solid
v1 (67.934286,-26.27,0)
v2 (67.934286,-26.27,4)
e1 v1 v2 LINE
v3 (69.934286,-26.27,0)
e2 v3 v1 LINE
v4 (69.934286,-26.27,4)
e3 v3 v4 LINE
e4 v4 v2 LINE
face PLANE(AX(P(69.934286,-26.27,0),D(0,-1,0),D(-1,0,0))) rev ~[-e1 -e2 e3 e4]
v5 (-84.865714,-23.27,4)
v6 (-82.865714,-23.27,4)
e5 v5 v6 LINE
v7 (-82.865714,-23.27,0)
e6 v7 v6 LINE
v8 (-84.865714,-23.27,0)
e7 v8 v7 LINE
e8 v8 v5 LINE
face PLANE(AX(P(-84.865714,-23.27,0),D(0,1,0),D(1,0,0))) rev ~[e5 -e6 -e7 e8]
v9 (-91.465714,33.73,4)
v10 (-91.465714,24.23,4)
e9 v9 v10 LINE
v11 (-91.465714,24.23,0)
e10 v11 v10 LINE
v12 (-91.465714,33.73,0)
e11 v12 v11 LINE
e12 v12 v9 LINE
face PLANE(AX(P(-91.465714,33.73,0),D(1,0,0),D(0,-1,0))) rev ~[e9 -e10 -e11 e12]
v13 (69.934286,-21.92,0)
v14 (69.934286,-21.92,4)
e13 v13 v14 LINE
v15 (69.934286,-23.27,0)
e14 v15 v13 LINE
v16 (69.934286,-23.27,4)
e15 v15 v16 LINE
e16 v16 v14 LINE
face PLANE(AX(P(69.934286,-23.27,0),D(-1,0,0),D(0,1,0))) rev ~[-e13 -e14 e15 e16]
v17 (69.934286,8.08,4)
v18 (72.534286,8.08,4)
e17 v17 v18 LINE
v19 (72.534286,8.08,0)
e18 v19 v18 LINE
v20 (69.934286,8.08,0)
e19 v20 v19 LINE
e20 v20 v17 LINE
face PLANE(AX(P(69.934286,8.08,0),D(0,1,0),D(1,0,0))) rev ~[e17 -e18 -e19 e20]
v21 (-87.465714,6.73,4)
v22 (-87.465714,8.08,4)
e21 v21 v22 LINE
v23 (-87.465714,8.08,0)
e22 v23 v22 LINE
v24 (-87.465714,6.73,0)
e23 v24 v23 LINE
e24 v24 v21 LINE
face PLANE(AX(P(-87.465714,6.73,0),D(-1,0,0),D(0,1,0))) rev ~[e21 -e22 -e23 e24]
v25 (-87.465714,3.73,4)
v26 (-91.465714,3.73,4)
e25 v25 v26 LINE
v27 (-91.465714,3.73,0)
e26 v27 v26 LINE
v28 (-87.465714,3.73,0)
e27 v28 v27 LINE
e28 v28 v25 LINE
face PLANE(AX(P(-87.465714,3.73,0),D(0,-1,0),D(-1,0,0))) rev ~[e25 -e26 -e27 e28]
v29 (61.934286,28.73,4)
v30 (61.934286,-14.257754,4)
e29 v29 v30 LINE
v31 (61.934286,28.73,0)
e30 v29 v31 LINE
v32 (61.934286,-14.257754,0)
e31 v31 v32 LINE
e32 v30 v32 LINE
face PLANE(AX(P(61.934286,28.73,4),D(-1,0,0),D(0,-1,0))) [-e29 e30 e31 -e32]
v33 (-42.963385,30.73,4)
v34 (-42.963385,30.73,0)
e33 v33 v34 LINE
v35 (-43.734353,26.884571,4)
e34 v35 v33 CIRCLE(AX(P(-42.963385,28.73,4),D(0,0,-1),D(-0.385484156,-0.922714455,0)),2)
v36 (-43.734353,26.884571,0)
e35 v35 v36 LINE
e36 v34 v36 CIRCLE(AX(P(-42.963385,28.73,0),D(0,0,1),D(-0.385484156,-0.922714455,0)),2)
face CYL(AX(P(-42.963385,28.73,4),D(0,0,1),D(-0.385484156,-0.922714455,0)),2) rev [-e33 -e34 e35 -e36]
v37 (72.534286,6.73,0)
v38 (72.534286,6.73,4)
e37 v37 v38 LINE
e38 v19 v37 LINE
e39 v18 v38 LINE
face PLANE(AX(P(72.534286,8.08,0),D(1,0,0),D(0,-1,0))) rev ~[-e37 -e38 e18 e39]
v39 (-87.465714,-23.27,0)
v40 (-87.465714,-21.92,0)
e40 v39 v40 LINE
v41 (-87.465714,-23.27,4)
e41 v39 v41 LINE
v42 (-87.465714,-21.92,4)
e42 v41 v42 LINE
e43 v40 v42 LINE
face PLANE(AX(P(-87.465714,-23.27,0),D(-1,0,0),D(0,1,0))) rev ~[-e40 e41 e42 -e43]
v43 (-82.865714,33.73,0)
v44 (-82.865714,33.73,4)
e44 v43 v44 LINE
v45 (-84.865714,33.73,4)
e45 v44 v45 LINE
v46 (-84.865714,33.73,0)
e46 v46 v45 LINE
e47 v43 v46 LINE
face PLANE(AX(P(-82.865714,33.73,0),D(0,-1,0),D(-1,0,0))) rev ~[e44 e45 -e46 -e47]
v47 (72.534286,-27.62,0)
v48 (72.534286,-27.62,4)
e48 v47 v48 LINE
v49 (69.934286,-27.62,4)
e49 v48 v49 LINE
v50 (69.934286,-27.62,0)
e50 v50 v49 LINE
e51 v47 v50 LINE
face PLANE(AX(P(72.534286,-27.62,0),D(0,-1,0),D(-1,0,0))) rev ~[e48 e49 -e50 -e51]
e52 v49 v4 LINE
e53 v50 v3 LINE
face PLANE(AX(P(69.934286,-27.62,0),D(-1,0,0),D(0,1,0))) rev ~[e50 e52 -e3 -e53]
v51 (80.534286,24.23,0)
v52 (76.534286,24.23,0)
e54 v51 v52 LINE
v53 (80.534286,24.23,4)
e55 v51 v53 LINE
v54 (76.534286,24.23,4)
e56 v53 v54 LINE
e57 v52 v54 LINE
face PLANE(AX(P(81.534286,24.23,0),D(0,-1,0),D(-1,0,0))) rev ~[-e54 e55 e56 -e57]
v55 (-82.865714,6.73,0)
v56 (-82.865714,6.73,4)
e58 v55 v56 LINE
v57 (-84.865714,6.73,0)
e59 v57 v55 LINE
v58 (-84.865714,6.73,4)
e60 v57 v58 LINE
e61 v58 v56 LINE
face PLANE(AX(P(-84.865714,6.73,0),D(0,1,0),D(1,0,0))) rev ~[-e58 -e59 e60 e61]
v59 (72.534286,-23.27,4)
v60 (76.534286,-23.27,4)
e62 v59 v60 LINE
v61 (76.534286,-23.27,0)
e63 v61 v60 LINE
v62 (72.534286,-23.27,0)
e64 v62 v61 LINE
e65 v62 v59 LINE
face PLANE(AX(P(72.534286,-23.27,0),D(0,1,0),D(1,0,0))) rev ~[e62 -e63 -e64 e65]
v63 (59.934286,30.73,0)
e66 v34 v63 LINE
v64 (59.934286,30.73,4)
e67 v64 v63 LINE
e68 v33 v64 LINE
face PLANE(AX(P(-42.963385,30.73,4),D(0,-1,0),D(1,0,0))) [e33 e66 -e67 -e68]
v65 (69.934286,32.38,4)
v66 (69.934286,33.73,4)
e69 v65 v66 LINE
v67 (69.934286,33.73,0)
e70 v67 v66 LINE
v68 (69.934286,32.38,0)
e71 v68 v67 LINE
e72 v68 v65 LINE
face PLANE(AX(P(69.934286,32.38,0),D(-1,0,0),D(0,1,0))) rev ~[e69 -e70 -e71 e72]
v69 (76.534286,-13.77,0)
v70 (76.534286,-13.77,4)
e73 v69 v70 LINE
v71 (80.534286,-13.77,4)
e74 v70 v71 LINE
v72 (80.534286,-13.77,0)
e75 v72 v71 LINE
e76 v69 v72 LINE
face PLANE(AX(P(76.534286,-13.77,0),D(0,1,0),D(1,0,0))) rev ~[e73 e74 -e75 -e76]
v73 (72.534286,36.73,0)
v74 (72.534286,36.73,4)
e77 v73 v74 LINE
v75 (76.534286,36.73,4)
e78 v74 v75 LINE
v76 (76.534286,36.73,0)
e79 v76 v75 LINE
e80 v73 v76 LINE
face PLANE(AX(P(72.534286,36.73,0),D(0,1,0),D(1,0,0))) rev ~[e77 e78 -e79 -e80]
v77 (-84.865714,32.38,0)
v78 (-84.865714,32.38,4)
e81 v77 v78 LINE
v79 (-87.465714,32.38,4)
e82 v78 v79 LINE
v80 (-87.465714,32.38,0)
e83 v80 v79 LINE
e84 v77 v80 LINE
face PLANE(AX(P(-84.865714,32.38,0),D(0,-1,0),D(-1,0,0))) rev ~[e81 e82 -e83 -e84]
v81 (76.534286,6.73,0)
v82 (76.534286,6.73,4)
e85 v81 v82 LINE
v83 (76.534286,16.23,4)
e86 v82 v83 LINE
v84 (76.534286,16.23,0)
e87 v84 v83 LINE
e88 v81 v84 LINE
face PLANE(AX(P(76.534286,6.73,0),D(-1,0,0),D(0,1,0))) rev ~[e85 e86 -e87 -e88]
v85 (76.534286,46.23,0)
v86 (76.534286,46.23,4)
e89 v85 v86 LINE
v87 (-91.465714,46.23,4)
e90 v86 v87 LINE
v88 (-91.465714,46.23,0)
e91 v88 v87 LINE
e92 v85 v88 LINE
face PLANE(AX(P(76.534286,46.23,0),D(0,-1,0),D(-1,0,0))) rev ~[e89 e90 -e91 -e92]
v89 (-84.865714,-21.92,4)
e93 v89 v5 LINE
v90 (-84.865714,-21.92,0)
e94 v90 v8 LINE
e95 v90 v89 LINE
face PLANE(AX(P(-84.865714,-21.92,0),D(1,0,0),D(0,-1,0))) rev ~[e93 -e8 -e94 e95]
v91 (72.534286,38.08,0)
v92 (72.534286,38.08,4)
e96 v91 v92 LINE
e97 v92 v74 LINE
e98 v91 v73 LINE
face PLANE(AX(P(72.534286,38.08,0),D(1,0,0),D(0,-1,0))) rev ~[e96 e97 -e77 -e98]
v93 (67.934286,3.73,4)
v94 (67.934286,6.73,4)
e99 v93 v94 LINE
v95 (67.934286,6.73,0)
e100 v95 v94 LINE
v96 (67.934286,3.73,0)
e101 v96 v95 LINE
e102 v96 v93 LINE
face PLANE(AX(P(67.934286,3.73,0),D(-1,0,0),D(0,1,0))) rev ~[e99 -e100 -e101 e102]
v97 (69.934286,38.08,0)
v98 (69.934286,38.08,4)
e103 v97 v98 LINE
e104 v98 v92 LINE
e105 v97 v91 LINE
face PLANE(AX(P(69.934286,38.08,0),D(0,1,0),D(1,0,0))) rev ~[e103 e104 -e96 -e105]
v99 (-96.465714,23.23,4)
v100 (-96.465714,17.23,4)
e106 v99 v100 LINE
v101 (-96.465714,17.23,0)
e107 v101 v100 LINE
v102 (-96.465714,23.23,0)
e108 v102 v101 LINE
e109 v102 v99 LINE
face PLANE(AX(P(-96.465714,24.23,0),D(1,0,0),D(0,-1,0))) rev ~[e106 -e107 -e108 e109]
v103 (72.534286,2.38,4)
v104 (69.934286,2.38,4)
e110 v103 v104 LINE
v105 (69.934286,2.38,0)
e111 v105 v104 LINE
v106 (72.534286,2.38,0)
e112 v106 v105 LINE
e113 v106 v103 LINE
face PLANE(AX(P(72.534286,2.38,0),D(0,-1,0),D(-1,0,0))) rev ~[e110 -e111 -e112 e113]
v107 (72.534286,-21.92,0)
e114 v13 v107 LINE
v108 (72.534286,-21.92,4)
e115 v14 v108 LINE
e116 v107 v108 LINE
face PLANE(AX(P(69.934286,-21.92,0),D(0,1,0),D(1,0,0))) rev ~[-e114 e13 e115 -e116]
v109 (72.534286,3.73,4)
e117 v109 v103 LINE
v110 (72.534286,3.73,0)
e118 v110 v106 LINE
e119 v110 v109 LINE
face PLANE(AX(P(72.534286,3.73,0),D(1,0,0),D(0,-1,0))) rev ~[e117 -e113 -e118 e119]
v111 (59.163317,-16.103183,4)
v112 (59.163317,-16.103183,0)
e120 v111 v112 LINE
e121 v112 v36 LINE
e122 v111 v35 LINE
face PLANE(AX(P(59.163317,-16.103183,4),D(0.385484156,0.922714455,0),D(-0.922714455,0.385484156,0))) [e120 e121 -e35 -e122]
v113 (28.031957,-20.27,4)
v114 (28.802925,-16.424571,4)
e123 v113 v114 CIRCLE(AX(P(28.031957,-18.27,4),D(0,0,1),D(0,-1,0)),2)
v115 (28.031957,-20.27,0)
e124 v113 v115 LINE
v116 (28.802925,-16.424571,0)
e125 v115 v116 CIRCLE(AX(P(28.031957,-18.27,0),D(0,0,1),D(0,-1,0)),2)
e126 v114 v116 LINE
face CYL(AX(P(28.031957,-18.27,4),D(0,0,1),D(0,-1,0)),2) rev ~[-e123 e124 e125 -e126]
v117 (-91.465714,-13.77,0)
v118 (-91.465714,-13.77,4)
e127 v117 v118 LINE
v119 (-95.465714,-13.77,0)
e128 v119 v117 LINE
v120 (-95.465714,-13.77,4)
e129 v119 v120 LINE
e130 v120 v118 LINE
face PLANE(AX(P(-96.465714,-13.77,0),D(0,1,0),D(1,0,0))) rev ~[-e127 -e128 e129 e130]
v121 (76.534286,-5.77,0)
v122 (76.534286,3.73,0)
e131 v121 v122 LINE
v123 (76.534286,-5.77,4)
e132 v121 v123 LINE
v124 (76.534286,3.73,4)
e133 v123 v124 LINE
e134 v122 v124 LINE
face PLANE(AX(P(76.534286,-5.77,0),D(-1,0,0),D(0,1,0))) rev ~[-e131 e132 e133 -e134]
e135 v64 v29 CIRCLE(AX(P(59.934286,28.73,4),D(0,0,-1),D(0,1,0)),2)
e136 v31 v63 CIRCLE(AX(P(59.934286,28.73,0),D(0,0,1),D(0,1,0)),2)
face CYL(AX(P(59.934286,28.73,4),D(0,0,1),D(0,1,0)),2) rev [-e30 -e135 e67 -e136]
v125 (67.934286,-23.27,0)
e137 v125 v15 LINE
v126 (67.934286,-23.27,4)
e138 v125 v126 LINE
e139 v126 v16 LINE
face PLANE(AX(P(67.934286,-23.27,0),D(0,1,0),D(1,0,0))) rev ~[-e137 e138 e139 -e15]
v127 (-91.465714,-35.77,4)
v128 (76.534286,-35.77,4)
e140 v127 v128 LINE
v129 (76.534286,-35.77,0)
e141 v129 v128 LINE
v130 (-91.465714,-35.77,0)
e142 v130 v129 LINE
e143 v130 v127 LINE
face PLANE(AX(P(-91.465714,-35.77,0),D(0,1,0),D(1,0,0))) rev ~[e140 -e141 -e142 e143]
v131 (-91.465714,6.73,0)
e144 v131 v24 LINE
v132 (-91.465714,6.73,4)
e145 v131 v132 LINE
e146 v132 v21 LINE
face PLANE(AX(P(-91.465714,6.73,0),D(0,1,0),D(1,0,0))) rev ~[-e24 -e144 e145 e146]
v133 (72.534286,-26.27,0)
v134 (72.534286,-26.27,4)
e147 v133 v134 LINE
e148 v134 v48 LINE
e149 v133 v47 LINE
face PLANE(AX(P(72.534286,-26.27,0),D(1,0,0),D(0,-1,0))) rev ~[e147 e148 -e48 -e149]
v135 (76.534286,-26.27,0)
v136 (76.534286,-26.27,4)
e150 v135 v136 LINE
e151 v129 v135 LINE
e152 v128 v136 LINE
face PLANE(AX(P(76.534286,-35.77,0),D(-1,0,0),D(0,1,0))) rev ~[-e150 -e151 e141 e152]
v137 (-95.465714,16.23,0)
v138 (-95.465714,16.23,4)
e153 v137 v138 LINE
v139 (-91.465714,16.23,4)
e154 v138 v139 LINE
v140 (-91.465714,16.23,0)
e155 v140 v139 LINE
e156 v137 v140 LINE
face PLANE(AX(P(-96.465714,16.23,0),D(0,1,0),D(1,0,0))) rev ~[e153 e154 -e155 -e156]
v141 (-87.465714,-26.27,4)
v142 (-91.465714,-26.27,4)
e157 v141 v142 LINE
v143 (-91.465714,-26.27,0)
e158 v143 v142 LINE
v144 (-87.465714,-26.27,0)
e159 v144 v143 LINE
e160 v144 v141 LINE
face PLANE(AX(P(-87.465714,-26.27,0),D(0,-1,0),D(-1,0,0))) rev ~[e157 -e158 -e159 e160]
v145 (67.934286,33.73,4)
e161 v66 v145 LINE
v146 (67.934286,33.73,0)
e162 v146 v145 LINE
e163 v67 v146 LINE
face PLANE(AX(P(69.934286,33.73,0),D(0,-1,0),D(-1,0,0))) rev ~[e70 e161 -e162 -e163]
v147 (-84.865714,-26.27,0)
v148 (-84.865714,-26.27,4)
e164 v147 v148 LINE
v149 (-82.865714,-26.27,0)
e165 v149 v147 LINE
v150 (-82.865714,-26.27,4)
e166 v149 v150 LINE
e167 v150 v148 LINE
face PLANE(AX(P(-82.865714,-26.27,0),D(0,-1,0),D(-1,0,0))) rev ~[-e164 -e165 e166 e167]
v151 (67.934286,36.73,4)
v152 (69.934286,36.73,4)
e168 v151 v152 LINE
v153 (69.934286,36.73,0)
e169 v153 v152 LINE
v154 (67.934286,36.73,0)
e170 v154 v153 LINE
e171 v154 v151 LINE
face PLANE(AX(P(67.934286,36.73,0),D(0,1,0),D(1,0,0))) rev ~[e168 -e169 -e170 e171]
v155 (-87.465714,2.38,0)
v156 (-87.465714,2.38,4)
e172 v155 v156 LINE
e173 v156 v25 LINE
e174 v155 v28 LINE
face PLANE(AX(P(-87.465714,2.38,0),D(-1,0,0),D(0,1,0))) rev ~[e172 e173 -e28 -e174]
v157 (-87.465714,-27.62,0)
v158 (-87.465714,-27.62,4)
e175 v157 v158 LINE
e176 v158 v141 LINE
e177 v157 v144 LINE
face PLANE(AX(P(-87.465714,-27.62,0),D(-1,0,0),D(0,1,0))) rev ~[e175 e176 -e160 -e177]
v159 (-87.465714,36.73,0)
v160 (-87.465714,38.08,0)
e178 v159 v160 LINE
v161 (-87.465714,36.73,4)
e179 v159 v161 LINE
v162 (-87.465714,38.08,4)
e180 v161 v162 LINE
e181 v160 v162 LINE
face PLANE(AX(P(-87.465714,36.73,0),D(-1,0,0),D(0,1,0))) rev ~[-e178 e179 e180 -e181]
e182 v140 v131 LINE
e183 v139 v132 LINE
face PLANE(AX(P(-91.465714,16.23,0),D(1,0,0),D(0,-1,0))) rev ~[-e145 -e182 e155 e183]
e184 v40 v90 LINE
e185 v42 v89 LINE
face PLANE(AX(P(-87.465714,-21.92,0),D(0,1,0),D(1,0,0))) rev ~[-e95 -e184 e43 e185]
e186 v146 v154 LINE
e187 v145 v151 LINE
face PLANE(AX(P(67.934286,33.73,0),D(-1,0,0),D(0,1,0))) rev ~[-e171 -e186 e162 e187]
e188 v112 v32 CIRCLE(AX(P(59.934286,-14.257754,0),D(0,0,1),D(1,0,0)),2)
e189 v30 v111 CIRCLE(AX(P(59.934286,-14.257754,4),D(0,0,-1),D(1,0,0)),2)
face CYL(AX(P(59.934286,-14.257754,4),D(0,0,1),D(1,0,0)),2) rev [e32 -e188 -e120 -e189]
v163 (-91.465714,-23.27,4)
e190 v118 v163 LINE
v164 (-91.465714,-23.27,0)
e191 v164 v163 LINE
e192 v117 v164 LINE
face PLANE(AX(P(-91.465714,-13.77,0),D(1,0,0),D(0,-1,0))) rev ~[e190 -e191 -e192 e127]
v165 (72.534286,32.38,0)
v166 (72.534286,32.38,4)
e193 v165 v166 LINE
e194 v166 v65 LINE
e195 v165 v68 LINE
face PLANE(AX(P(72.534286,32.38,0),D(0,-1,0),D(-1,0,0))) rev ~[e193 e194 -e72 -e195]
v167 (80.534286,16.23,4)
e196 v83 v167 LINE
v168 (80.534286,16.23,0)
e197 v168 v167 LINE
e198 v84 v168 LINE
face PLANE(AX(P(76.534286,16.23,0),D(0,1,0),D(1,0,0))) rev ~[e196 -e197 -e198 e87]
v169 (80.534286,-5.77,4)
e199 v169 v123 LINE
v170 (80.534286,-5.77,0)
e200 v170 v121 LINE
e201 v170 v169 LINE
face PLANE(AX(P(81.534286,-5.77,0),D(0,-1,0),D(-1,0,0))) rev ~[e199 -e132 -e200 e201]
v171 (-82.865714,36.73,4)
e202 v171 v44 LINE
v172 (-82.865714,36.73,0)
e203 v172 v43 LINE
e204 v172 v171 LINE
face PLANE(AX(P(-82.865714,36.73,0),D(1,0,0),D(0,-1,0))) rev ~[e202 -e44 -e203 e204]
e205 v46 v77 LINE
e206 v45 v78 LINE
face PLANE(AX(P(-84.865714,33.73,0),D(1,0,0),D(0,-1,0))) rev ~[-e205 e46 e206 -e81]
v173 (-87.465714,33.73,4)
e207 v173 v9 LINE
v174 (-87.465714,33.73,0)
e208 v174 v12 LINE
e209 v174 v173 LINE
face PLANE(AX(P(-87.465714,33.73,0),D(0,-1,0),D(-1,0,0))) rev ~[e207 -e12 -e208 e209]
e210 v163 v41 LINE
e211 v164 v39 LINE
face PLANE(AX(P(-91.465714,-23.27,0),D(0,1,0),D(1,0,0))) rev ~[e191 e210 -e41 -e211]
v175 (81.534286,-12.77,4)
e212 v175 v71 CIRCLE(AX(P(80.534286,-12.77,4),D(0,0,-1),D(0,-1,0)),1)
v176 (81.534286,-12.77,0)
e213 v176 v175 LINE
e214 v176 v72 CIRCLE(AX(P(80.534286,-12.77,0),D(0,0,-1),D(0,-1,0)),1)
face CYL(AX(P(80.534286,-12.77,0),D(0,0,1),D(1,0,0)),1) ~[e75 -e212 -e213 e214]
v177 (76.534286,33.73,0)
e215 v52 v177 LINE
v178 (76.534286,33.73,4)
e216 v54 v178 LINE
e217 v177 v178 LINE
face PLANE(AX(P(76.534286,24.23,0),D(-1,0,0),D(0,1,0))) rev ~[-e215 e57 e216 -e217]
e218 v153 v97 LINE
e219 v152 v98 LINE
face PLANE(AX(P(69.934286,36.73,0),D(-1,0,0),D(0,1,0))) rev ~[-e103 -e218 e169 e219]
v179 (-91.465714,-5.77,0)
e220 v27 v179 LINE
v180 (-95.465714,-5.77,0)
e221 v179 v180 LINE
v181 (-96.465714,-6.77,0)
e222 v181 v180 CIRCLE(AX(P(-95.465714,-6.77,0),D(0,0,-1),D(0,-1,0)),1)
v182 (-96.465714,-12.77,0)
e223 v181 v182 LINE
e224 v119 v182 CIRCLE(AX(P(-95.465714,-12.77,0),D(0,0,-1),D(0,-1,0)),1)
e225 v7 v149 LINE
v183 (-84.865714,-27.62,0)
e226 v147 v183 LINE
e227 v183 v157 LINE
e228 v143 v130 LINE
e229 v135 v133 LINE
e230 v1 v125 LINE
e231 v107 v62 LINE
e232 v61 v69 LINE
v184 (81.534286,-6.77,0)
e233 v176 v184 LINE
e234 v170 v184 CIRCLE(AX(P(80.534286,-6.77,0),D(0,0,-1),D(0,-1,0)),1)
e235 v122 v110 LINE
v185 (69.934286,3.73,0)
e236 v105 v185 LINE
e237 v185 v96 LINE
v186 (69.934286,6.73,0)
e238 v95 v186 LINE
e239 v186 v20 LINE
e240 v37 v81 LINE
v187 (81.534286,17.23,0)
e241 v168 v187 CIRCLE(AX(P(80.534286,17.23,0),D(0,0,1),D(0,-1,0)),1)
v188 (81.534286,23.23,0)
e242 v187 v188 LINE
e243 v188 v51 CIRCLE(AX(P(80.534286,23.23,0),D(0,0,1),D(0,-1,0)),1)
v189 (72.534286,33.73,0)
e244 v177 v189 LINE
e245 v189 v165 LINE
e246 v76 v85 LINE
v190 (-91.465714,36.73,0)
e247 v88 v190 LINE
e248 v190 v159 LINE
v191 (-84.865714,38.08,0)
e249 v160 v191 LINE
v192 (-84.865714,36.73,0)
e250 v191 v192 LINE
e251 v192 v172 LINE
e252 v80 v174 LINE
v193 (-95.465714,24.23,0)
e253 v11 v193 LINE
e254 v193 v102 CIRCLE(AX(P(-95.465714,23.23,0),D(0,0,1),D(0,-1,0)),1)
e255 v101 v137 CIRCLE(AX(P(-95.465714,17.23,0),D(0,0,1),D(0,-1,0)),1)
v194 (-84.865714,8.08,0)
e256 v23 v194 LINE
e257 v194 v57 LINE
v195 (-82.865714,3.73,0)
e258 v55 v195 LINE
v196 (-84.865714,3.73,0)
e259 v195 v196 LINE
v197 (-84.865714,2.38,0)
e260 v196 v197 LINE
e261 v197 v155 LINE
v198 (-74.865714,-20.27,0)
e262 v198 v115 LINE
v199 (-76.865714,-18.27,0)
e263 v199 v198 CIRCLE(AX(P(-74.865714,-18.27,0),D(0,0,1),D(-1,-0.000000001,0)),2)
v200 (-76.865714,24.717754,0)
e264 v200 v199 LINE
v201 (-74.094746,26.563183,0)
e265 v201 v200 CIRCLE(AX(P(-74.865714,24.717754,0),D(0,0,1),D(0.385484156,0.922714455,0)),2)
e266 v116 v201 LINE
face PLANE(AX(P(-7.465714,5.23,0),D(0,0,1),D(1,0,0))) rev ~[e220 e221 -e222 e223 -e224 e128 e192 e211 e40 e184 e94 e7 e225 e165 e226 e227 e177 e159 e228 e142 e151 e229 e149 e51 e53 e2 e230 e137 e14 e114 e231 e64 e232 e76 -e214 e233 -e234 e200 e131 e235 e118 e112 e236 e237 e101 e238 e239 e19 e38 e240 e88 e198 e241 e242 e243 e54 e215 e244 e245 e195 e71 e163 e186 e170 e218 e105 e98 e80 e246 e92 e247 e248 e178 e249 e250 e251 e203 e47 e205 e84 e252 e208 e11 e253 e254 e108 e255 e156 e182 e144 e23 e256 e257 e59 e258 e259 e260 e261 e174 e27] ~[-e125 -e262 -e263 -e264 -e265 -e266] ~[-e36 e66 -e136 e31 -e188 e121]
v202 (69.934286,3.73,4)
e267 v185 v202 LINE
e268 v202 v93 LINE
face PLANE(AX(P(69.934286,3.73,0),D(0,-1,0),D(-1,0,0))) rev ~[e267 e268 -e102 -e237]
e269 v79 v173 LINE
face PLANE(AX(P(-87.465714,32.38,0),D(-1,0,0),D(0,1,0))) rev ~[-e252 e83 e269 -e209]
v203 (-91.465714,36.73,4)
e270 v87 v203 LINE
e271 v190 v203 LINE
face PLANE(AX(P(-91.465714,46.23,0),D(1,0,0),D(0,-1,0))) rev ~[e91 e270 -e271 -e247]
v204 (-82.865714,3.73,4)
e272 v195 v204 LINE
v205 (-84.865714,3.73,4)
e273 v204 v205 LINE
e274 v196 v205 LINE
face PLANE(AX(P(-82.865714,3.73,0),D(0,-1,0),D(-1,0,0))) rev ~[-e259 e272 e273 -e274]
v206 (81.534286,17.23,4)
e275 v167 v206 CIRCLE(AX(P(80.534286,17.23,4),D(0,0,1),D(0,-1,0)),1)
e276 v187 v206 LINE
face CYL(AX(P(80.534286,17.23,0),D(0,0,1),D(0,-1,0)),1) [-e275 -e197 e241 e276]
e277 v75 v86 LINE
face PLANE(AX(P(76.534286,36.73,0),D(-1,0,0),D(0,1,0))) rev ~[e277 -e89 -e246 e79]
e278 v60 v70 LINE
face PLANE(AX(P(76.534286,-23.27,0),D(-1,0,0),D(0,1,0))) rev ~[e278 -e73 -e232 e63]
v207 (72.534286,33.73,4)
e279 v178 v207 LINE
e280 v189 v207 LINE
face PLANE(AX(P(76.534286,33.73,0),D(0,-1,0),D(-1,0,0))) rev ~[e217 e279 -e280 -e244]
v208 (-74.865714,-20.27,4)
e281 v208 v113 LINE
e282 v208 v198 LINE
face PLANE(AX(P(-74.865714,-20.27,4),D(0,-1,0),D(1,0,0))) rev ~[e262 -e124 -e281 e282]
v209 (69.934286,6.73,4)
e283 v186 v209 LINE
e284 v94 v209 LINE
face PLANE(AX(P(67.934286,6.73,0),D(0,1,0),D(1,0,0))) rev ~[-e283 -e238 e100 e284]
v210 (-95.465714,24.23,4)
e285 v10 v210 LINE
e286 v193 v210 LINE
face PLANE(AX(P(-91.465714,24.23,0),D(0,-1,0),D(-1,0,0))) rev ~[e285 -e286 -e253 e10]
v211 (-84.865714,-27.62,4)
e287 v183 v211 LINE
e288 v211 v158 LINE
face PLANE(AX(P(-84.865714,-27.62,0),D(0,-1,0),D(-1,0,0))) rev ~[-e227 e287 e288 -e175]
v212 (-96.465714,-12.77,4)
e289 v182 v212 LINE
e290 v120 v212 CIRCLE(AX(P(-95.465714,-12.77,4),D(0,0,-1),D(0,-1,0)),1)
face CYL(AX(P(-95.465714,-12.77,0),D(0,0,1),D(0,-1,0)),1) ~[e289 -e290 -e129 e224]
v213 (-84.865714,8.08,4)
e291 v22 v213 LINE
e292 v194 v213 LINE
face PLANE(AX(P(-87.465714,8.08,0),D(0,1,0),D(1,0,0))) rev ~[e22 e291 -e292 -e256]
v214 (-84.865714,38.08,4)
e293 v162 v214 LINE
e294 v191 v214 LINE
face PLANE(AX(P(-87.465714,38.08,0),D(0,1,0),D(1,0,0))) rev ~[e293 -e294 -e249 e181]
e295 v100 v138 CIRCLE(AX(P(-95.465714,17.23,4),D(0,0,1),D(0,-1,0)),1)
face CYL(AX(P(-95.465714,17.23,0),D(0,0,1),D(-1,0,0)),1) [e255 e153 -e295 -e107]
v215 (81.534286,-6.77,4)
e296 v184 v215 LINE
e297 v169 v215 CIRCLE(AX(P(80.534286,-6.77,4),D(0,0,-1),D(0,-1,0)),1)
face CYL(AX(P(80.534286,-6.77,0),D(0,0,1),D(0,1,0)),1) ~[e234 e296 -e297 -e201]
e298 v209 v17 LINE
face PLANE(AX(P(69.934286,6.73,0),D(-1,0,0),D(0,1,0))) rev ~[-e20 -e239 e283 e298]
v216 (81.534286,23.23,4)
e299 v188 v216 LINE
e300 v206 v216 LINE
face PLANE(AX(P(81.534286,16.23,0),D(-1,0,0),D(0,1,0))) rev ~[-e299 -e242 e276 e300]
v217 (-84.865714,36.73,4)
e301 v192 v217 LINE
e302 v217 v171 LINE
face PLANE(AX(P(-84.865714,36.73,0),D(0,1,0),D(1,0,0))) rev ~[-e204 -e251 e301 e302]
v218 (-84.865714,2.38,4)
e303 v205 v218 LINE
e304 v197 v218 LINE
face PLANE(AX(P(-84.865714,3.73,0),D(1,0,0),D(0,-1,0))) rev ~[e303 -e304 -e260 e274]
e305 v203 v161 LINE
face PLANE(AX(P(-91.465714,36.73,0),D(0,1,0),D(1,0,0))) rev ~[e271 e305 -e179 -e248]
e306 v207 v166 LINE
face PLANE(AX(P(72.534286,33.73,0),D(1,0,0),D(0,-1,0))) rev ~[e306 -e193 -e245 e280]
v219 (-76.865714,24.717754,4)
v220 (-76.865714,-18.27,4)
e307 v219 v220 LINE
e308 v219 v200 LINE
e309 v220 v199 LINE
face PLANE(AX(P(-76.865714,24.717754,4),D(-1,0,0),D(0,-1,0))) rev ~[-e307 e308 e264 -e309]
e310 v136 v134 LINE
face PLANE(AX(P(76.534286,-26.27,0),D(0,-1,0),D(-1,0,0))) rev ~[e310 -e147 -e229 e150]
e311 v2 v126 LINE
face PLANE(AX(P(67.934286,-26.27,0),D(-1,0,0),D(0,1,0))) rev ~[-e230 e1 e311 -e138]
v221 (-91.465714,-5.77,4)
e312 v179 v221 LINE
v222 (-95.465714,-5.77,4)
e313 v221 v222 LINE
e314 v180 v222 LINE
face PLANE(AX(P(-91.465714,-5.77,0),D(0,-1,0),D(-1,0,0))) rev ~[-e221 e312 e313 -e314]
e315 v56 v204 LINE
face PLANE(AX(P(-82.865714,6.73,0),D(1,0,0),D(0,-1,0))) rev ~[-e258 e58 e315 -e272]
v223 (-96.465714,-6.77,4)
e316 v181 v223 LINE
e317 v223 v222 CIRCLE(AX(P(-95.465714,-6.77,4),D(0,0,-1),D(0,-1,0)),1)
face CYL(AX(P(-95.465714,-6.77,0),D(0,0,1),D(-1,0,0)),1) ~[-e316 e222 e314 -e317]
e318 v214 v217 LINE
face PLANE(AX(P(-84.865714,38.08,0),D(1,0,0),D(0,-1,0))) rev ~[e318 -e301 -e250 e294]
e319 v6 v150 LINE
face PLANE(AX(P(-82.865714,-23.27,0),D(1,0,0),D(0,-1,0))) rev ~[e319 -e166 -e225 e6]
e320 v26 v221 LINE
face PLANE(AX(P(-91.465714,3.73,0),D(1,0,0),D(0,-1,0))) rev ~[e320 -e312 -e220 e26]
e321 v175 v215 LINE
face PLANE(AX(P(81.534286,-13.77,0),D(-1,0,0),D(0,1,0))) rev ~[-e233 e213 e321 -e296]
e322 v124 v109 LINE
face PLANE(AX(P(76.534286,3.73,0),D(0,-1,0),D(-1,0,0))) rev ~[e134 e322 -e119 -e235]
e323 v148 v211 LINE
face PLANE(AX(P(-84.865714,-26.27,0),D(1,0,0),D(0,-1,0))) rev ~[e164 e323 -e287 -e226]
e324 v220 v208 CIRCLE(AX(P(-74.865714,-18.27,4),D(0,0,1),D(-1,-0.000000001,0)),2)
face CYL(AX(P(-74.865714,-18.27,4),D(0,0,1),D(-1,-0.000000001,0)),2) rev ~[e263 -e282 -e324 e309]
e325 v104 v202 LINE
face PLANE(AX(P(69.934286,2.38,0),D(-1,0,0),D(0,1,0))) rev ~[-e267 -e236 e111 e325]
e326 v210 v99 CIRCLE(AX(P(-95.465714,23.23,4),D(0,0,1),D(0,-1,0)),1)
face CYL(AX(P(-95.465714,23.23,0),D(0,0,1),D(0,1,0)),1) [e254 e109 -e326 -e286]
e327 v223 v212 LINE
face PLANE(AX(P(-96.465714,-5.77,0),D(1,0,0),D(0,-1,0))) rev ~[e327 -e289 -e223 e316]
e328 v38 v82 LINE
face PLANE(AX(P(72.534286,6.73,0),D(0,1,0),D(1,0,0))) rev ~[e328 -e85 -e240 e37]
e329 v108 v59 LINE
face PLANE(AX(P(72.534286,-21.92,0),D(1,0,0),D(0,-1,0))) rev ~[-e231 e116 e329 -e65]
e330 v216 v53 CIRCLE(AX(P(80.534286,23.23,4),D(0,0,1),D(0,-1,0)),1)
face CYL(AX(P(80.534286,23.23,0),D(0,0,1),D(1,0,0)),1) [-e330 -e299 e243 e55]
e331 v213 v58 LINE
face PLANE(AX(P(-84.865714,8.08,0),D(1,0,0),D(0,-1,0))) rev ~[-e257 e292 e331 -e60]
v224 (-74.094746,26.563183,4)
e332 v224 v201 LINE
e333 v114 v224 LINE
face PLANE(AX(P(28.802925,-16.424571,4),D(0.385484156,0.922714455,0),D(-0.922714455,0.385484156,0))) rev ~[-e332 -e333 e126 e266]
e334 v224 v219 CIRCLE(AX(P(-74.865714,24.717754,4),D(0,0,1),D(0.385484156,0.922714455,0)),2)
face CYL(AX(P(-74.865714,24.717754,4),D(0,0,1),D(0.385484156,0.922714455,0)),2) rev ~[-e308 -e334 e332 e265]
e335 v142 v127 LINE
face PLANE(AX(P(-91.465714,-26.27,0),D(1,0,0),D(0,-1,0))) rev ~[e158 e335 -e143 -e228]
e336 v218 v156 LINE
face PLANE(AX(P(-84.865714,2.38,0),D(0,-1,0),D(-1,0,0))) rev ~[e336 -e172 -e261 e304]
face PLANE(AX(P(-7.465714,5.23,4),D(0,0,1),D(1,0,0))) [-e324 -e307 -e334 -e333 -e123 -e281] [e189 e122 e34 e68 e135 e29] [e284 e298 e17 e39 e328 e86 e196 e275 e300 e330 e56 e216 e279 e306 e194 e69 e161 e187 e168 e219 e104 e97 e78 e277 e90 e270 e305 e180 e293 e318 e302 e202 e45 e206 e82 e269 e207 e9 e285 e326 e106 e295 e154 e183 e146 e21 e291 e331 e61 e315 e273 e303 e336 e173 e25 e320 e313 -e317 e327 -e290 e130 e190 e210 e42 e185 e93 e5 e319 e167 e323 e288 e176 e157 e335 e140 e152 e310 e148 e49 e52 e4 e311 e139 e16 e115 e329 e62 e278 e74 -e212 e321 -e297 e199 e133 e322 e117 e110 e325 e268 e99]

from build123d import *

# Parameters (mm, degrees)
EXTRUDE_1_DEPTH     = 4
CUT_EXTRUDE_1_DEPTH = 10
FILLET_1_R          = 1


with BuildPart() as part:
    # 草图1 → 凸台-拉伸1 (new body)
    with BuildSketch(Plane.XY):
        Polygon((72.534285714, 6.73), (76.534285714, 6.73), (76.534285714, 16.23), (81.534285714, 16.23), (81.534285714, 24.23), (76.534285714, 24.23), (76.534285714, 33.73), (72.534285714, 33.73), (72.534285714, 32.38), (69.934285714, 32.38), (69.934285714, 33.73), (67.934285714, 33.73), (67.934285714, 36.73), (69.934285714, 36.73), (69.934285714, 38.08), (72.534285714, 38.08), (72.534285714, 36.73), (76.534285714, 36.73), (76.534285714, 46.23), (54.534285714, 46.23), (-91.465714286, 46.23), (-91.465714286, 36.73), (-87.465714286, 36.73), (-87.465714286, 38.08), (-84.865714286, 38.08), (-84.865714286, 36.73), (-82.865714286, 36.73), (-82.865714286, 33.73), (-84.865714286, 33.73), (-84.865714286, 32.38), (-87.465714286, 32.38), (-87.465714286, 33.73), (-91.465714286, 33.73), (-91.465714286, 24.23), (-96.465714286, 24.23), (-96.465714286, 16.23), (-91.465714286, 16.23), (-91.465714286, 6.73), (-87.465714286, 6.73), (-87.465714286, 8.08), (-84.865714286, 8.08), (-84.865714286, 6.73), (-82.865714286, 6.73), (-82.865714286, 3.73), (-84.865714286, 3.73), (-84.865714286, 2.38), (-87.465714286, 2.38), (-87.465714286, 3.73), (-91.465714286, 3.73), (-91.465714286, -5.77), (-96.465714286, -5.77), (-96.465714286, -13.77), (-91.465714286, -13.77), (-91.465714286, -23.27), (-87.465714286, -23.27), (-87.465714286, -21.92), (-84.865714286, -21.92), (-84.865714286, -23.27), (-82.865714286, -23.27), (-82.865714286, -26.27), (-84.865714286, -26.27), (-84.865714286, -27.62), (-87.465714286, -27.62), (-87.465714286, -26.27), (-91.465714286, -26.27), (-91.465714286, -35.77), (54.534285714, -35.77), (76.534285714, -35.77), (76.534285714, -26.27), (72.534285714, -26.27), (72.534285714, -27.62), (69.934285714, -27.62), (69.934285714, -26.27), (67.934285714, -26.27), (67.934285714, -23.27), (69.934285714, -23.27), (69.934285714, -21.92), (72.534285714, -21.92), (72.534285714, -23.27), (76.534285714, -23.27), (76.534285714, -13.77), (81.534285714, -13.77), (81.534285714, -5.77), (76.534285714, -5.77), (76.534285714, 3.73), (72.534285714, 3.73), (72.534285714, 2.38), (69.934285714, 2.38), (69.934285714, 3.73), (67.934285714, 3.73), (67.934285714, 6.73), (69.934285714, 6.73), (69.934285714, 8.08), (72.534285714, 8.08), align=None)
    extrude(amount=EXTRUDE_1_DEPTH)

    # 草图3 → 切除-拉伸1 (cut)
    with BuildSketch(Plane.XY.offset(4)):
        with BuildLine():
            Line((28.802924928, -16.42457109), (-74.094745974, 26.563182669))
            ThreePointArc((-74.094745974, 26.563182669), (-75.974331302, 26.382376332), (-76.865714286, 24.717753759))
            Line((-76.865714286, 24.717753759), (-76.865714286, -18.27))
            ThreePointArc((-76.865714286, -18.27), (-76.279927848, -19.684213562), (-74.865714286, -20.27))
            Line((-74.865714286, -20.27), (28.031956617, -20.27))
            ThreePointArc((28.031956617, -20.27), (29.992933136, -18.6631553), (28.802924928, -16.42457109))
        make_face()
        with BuildLine():
            Line((-42.963385188, 30.73), (59.934285714, 30.73))
            ThreePointArc((59.934285714, 30.73), (61.348499277, 30.144213562), (61.934285714, 28.73))
            Line((61.934285714, 28.73), (61.934285714, -14.257753759))
            ThreePointArc((61.934285714, -14.257753759), (61.042902731, -15.922376332), (59.163317403, -16.103182669))
            Line((59.163317403, -16.103182669), (-43.7343535, 26.88457109))
            ThreePointArc((-43.7343535, 26.88457109), (-44.924361708, 29.1231553), (-42.963385188, 30.73))
        make_face()
    extrude(amount=-CUT_EXTRUDE_1_DEPTH, mode=Mode.SUBTRACT)

    # 圆角1
    fillet_1_edges = [part.edges().sort_by_distance(p)[0] for p in [
        (-96.465714286, -13.77, 2),
        (-96.465714286, -5.77, 2),
        (-96.465714286, 16.23, 2),
        (-96.465714286, 24.23, 2),
        (81.534285714, 24.23, 2),
        (81.534285714, 16.23, 2),
        (81.534285714, -5.77, 2),
        (81.534285714, -13.77, 2),
    ]]
    fillet(fillet_1_edges, radius=FILLET_1_R)


solid = part.part
